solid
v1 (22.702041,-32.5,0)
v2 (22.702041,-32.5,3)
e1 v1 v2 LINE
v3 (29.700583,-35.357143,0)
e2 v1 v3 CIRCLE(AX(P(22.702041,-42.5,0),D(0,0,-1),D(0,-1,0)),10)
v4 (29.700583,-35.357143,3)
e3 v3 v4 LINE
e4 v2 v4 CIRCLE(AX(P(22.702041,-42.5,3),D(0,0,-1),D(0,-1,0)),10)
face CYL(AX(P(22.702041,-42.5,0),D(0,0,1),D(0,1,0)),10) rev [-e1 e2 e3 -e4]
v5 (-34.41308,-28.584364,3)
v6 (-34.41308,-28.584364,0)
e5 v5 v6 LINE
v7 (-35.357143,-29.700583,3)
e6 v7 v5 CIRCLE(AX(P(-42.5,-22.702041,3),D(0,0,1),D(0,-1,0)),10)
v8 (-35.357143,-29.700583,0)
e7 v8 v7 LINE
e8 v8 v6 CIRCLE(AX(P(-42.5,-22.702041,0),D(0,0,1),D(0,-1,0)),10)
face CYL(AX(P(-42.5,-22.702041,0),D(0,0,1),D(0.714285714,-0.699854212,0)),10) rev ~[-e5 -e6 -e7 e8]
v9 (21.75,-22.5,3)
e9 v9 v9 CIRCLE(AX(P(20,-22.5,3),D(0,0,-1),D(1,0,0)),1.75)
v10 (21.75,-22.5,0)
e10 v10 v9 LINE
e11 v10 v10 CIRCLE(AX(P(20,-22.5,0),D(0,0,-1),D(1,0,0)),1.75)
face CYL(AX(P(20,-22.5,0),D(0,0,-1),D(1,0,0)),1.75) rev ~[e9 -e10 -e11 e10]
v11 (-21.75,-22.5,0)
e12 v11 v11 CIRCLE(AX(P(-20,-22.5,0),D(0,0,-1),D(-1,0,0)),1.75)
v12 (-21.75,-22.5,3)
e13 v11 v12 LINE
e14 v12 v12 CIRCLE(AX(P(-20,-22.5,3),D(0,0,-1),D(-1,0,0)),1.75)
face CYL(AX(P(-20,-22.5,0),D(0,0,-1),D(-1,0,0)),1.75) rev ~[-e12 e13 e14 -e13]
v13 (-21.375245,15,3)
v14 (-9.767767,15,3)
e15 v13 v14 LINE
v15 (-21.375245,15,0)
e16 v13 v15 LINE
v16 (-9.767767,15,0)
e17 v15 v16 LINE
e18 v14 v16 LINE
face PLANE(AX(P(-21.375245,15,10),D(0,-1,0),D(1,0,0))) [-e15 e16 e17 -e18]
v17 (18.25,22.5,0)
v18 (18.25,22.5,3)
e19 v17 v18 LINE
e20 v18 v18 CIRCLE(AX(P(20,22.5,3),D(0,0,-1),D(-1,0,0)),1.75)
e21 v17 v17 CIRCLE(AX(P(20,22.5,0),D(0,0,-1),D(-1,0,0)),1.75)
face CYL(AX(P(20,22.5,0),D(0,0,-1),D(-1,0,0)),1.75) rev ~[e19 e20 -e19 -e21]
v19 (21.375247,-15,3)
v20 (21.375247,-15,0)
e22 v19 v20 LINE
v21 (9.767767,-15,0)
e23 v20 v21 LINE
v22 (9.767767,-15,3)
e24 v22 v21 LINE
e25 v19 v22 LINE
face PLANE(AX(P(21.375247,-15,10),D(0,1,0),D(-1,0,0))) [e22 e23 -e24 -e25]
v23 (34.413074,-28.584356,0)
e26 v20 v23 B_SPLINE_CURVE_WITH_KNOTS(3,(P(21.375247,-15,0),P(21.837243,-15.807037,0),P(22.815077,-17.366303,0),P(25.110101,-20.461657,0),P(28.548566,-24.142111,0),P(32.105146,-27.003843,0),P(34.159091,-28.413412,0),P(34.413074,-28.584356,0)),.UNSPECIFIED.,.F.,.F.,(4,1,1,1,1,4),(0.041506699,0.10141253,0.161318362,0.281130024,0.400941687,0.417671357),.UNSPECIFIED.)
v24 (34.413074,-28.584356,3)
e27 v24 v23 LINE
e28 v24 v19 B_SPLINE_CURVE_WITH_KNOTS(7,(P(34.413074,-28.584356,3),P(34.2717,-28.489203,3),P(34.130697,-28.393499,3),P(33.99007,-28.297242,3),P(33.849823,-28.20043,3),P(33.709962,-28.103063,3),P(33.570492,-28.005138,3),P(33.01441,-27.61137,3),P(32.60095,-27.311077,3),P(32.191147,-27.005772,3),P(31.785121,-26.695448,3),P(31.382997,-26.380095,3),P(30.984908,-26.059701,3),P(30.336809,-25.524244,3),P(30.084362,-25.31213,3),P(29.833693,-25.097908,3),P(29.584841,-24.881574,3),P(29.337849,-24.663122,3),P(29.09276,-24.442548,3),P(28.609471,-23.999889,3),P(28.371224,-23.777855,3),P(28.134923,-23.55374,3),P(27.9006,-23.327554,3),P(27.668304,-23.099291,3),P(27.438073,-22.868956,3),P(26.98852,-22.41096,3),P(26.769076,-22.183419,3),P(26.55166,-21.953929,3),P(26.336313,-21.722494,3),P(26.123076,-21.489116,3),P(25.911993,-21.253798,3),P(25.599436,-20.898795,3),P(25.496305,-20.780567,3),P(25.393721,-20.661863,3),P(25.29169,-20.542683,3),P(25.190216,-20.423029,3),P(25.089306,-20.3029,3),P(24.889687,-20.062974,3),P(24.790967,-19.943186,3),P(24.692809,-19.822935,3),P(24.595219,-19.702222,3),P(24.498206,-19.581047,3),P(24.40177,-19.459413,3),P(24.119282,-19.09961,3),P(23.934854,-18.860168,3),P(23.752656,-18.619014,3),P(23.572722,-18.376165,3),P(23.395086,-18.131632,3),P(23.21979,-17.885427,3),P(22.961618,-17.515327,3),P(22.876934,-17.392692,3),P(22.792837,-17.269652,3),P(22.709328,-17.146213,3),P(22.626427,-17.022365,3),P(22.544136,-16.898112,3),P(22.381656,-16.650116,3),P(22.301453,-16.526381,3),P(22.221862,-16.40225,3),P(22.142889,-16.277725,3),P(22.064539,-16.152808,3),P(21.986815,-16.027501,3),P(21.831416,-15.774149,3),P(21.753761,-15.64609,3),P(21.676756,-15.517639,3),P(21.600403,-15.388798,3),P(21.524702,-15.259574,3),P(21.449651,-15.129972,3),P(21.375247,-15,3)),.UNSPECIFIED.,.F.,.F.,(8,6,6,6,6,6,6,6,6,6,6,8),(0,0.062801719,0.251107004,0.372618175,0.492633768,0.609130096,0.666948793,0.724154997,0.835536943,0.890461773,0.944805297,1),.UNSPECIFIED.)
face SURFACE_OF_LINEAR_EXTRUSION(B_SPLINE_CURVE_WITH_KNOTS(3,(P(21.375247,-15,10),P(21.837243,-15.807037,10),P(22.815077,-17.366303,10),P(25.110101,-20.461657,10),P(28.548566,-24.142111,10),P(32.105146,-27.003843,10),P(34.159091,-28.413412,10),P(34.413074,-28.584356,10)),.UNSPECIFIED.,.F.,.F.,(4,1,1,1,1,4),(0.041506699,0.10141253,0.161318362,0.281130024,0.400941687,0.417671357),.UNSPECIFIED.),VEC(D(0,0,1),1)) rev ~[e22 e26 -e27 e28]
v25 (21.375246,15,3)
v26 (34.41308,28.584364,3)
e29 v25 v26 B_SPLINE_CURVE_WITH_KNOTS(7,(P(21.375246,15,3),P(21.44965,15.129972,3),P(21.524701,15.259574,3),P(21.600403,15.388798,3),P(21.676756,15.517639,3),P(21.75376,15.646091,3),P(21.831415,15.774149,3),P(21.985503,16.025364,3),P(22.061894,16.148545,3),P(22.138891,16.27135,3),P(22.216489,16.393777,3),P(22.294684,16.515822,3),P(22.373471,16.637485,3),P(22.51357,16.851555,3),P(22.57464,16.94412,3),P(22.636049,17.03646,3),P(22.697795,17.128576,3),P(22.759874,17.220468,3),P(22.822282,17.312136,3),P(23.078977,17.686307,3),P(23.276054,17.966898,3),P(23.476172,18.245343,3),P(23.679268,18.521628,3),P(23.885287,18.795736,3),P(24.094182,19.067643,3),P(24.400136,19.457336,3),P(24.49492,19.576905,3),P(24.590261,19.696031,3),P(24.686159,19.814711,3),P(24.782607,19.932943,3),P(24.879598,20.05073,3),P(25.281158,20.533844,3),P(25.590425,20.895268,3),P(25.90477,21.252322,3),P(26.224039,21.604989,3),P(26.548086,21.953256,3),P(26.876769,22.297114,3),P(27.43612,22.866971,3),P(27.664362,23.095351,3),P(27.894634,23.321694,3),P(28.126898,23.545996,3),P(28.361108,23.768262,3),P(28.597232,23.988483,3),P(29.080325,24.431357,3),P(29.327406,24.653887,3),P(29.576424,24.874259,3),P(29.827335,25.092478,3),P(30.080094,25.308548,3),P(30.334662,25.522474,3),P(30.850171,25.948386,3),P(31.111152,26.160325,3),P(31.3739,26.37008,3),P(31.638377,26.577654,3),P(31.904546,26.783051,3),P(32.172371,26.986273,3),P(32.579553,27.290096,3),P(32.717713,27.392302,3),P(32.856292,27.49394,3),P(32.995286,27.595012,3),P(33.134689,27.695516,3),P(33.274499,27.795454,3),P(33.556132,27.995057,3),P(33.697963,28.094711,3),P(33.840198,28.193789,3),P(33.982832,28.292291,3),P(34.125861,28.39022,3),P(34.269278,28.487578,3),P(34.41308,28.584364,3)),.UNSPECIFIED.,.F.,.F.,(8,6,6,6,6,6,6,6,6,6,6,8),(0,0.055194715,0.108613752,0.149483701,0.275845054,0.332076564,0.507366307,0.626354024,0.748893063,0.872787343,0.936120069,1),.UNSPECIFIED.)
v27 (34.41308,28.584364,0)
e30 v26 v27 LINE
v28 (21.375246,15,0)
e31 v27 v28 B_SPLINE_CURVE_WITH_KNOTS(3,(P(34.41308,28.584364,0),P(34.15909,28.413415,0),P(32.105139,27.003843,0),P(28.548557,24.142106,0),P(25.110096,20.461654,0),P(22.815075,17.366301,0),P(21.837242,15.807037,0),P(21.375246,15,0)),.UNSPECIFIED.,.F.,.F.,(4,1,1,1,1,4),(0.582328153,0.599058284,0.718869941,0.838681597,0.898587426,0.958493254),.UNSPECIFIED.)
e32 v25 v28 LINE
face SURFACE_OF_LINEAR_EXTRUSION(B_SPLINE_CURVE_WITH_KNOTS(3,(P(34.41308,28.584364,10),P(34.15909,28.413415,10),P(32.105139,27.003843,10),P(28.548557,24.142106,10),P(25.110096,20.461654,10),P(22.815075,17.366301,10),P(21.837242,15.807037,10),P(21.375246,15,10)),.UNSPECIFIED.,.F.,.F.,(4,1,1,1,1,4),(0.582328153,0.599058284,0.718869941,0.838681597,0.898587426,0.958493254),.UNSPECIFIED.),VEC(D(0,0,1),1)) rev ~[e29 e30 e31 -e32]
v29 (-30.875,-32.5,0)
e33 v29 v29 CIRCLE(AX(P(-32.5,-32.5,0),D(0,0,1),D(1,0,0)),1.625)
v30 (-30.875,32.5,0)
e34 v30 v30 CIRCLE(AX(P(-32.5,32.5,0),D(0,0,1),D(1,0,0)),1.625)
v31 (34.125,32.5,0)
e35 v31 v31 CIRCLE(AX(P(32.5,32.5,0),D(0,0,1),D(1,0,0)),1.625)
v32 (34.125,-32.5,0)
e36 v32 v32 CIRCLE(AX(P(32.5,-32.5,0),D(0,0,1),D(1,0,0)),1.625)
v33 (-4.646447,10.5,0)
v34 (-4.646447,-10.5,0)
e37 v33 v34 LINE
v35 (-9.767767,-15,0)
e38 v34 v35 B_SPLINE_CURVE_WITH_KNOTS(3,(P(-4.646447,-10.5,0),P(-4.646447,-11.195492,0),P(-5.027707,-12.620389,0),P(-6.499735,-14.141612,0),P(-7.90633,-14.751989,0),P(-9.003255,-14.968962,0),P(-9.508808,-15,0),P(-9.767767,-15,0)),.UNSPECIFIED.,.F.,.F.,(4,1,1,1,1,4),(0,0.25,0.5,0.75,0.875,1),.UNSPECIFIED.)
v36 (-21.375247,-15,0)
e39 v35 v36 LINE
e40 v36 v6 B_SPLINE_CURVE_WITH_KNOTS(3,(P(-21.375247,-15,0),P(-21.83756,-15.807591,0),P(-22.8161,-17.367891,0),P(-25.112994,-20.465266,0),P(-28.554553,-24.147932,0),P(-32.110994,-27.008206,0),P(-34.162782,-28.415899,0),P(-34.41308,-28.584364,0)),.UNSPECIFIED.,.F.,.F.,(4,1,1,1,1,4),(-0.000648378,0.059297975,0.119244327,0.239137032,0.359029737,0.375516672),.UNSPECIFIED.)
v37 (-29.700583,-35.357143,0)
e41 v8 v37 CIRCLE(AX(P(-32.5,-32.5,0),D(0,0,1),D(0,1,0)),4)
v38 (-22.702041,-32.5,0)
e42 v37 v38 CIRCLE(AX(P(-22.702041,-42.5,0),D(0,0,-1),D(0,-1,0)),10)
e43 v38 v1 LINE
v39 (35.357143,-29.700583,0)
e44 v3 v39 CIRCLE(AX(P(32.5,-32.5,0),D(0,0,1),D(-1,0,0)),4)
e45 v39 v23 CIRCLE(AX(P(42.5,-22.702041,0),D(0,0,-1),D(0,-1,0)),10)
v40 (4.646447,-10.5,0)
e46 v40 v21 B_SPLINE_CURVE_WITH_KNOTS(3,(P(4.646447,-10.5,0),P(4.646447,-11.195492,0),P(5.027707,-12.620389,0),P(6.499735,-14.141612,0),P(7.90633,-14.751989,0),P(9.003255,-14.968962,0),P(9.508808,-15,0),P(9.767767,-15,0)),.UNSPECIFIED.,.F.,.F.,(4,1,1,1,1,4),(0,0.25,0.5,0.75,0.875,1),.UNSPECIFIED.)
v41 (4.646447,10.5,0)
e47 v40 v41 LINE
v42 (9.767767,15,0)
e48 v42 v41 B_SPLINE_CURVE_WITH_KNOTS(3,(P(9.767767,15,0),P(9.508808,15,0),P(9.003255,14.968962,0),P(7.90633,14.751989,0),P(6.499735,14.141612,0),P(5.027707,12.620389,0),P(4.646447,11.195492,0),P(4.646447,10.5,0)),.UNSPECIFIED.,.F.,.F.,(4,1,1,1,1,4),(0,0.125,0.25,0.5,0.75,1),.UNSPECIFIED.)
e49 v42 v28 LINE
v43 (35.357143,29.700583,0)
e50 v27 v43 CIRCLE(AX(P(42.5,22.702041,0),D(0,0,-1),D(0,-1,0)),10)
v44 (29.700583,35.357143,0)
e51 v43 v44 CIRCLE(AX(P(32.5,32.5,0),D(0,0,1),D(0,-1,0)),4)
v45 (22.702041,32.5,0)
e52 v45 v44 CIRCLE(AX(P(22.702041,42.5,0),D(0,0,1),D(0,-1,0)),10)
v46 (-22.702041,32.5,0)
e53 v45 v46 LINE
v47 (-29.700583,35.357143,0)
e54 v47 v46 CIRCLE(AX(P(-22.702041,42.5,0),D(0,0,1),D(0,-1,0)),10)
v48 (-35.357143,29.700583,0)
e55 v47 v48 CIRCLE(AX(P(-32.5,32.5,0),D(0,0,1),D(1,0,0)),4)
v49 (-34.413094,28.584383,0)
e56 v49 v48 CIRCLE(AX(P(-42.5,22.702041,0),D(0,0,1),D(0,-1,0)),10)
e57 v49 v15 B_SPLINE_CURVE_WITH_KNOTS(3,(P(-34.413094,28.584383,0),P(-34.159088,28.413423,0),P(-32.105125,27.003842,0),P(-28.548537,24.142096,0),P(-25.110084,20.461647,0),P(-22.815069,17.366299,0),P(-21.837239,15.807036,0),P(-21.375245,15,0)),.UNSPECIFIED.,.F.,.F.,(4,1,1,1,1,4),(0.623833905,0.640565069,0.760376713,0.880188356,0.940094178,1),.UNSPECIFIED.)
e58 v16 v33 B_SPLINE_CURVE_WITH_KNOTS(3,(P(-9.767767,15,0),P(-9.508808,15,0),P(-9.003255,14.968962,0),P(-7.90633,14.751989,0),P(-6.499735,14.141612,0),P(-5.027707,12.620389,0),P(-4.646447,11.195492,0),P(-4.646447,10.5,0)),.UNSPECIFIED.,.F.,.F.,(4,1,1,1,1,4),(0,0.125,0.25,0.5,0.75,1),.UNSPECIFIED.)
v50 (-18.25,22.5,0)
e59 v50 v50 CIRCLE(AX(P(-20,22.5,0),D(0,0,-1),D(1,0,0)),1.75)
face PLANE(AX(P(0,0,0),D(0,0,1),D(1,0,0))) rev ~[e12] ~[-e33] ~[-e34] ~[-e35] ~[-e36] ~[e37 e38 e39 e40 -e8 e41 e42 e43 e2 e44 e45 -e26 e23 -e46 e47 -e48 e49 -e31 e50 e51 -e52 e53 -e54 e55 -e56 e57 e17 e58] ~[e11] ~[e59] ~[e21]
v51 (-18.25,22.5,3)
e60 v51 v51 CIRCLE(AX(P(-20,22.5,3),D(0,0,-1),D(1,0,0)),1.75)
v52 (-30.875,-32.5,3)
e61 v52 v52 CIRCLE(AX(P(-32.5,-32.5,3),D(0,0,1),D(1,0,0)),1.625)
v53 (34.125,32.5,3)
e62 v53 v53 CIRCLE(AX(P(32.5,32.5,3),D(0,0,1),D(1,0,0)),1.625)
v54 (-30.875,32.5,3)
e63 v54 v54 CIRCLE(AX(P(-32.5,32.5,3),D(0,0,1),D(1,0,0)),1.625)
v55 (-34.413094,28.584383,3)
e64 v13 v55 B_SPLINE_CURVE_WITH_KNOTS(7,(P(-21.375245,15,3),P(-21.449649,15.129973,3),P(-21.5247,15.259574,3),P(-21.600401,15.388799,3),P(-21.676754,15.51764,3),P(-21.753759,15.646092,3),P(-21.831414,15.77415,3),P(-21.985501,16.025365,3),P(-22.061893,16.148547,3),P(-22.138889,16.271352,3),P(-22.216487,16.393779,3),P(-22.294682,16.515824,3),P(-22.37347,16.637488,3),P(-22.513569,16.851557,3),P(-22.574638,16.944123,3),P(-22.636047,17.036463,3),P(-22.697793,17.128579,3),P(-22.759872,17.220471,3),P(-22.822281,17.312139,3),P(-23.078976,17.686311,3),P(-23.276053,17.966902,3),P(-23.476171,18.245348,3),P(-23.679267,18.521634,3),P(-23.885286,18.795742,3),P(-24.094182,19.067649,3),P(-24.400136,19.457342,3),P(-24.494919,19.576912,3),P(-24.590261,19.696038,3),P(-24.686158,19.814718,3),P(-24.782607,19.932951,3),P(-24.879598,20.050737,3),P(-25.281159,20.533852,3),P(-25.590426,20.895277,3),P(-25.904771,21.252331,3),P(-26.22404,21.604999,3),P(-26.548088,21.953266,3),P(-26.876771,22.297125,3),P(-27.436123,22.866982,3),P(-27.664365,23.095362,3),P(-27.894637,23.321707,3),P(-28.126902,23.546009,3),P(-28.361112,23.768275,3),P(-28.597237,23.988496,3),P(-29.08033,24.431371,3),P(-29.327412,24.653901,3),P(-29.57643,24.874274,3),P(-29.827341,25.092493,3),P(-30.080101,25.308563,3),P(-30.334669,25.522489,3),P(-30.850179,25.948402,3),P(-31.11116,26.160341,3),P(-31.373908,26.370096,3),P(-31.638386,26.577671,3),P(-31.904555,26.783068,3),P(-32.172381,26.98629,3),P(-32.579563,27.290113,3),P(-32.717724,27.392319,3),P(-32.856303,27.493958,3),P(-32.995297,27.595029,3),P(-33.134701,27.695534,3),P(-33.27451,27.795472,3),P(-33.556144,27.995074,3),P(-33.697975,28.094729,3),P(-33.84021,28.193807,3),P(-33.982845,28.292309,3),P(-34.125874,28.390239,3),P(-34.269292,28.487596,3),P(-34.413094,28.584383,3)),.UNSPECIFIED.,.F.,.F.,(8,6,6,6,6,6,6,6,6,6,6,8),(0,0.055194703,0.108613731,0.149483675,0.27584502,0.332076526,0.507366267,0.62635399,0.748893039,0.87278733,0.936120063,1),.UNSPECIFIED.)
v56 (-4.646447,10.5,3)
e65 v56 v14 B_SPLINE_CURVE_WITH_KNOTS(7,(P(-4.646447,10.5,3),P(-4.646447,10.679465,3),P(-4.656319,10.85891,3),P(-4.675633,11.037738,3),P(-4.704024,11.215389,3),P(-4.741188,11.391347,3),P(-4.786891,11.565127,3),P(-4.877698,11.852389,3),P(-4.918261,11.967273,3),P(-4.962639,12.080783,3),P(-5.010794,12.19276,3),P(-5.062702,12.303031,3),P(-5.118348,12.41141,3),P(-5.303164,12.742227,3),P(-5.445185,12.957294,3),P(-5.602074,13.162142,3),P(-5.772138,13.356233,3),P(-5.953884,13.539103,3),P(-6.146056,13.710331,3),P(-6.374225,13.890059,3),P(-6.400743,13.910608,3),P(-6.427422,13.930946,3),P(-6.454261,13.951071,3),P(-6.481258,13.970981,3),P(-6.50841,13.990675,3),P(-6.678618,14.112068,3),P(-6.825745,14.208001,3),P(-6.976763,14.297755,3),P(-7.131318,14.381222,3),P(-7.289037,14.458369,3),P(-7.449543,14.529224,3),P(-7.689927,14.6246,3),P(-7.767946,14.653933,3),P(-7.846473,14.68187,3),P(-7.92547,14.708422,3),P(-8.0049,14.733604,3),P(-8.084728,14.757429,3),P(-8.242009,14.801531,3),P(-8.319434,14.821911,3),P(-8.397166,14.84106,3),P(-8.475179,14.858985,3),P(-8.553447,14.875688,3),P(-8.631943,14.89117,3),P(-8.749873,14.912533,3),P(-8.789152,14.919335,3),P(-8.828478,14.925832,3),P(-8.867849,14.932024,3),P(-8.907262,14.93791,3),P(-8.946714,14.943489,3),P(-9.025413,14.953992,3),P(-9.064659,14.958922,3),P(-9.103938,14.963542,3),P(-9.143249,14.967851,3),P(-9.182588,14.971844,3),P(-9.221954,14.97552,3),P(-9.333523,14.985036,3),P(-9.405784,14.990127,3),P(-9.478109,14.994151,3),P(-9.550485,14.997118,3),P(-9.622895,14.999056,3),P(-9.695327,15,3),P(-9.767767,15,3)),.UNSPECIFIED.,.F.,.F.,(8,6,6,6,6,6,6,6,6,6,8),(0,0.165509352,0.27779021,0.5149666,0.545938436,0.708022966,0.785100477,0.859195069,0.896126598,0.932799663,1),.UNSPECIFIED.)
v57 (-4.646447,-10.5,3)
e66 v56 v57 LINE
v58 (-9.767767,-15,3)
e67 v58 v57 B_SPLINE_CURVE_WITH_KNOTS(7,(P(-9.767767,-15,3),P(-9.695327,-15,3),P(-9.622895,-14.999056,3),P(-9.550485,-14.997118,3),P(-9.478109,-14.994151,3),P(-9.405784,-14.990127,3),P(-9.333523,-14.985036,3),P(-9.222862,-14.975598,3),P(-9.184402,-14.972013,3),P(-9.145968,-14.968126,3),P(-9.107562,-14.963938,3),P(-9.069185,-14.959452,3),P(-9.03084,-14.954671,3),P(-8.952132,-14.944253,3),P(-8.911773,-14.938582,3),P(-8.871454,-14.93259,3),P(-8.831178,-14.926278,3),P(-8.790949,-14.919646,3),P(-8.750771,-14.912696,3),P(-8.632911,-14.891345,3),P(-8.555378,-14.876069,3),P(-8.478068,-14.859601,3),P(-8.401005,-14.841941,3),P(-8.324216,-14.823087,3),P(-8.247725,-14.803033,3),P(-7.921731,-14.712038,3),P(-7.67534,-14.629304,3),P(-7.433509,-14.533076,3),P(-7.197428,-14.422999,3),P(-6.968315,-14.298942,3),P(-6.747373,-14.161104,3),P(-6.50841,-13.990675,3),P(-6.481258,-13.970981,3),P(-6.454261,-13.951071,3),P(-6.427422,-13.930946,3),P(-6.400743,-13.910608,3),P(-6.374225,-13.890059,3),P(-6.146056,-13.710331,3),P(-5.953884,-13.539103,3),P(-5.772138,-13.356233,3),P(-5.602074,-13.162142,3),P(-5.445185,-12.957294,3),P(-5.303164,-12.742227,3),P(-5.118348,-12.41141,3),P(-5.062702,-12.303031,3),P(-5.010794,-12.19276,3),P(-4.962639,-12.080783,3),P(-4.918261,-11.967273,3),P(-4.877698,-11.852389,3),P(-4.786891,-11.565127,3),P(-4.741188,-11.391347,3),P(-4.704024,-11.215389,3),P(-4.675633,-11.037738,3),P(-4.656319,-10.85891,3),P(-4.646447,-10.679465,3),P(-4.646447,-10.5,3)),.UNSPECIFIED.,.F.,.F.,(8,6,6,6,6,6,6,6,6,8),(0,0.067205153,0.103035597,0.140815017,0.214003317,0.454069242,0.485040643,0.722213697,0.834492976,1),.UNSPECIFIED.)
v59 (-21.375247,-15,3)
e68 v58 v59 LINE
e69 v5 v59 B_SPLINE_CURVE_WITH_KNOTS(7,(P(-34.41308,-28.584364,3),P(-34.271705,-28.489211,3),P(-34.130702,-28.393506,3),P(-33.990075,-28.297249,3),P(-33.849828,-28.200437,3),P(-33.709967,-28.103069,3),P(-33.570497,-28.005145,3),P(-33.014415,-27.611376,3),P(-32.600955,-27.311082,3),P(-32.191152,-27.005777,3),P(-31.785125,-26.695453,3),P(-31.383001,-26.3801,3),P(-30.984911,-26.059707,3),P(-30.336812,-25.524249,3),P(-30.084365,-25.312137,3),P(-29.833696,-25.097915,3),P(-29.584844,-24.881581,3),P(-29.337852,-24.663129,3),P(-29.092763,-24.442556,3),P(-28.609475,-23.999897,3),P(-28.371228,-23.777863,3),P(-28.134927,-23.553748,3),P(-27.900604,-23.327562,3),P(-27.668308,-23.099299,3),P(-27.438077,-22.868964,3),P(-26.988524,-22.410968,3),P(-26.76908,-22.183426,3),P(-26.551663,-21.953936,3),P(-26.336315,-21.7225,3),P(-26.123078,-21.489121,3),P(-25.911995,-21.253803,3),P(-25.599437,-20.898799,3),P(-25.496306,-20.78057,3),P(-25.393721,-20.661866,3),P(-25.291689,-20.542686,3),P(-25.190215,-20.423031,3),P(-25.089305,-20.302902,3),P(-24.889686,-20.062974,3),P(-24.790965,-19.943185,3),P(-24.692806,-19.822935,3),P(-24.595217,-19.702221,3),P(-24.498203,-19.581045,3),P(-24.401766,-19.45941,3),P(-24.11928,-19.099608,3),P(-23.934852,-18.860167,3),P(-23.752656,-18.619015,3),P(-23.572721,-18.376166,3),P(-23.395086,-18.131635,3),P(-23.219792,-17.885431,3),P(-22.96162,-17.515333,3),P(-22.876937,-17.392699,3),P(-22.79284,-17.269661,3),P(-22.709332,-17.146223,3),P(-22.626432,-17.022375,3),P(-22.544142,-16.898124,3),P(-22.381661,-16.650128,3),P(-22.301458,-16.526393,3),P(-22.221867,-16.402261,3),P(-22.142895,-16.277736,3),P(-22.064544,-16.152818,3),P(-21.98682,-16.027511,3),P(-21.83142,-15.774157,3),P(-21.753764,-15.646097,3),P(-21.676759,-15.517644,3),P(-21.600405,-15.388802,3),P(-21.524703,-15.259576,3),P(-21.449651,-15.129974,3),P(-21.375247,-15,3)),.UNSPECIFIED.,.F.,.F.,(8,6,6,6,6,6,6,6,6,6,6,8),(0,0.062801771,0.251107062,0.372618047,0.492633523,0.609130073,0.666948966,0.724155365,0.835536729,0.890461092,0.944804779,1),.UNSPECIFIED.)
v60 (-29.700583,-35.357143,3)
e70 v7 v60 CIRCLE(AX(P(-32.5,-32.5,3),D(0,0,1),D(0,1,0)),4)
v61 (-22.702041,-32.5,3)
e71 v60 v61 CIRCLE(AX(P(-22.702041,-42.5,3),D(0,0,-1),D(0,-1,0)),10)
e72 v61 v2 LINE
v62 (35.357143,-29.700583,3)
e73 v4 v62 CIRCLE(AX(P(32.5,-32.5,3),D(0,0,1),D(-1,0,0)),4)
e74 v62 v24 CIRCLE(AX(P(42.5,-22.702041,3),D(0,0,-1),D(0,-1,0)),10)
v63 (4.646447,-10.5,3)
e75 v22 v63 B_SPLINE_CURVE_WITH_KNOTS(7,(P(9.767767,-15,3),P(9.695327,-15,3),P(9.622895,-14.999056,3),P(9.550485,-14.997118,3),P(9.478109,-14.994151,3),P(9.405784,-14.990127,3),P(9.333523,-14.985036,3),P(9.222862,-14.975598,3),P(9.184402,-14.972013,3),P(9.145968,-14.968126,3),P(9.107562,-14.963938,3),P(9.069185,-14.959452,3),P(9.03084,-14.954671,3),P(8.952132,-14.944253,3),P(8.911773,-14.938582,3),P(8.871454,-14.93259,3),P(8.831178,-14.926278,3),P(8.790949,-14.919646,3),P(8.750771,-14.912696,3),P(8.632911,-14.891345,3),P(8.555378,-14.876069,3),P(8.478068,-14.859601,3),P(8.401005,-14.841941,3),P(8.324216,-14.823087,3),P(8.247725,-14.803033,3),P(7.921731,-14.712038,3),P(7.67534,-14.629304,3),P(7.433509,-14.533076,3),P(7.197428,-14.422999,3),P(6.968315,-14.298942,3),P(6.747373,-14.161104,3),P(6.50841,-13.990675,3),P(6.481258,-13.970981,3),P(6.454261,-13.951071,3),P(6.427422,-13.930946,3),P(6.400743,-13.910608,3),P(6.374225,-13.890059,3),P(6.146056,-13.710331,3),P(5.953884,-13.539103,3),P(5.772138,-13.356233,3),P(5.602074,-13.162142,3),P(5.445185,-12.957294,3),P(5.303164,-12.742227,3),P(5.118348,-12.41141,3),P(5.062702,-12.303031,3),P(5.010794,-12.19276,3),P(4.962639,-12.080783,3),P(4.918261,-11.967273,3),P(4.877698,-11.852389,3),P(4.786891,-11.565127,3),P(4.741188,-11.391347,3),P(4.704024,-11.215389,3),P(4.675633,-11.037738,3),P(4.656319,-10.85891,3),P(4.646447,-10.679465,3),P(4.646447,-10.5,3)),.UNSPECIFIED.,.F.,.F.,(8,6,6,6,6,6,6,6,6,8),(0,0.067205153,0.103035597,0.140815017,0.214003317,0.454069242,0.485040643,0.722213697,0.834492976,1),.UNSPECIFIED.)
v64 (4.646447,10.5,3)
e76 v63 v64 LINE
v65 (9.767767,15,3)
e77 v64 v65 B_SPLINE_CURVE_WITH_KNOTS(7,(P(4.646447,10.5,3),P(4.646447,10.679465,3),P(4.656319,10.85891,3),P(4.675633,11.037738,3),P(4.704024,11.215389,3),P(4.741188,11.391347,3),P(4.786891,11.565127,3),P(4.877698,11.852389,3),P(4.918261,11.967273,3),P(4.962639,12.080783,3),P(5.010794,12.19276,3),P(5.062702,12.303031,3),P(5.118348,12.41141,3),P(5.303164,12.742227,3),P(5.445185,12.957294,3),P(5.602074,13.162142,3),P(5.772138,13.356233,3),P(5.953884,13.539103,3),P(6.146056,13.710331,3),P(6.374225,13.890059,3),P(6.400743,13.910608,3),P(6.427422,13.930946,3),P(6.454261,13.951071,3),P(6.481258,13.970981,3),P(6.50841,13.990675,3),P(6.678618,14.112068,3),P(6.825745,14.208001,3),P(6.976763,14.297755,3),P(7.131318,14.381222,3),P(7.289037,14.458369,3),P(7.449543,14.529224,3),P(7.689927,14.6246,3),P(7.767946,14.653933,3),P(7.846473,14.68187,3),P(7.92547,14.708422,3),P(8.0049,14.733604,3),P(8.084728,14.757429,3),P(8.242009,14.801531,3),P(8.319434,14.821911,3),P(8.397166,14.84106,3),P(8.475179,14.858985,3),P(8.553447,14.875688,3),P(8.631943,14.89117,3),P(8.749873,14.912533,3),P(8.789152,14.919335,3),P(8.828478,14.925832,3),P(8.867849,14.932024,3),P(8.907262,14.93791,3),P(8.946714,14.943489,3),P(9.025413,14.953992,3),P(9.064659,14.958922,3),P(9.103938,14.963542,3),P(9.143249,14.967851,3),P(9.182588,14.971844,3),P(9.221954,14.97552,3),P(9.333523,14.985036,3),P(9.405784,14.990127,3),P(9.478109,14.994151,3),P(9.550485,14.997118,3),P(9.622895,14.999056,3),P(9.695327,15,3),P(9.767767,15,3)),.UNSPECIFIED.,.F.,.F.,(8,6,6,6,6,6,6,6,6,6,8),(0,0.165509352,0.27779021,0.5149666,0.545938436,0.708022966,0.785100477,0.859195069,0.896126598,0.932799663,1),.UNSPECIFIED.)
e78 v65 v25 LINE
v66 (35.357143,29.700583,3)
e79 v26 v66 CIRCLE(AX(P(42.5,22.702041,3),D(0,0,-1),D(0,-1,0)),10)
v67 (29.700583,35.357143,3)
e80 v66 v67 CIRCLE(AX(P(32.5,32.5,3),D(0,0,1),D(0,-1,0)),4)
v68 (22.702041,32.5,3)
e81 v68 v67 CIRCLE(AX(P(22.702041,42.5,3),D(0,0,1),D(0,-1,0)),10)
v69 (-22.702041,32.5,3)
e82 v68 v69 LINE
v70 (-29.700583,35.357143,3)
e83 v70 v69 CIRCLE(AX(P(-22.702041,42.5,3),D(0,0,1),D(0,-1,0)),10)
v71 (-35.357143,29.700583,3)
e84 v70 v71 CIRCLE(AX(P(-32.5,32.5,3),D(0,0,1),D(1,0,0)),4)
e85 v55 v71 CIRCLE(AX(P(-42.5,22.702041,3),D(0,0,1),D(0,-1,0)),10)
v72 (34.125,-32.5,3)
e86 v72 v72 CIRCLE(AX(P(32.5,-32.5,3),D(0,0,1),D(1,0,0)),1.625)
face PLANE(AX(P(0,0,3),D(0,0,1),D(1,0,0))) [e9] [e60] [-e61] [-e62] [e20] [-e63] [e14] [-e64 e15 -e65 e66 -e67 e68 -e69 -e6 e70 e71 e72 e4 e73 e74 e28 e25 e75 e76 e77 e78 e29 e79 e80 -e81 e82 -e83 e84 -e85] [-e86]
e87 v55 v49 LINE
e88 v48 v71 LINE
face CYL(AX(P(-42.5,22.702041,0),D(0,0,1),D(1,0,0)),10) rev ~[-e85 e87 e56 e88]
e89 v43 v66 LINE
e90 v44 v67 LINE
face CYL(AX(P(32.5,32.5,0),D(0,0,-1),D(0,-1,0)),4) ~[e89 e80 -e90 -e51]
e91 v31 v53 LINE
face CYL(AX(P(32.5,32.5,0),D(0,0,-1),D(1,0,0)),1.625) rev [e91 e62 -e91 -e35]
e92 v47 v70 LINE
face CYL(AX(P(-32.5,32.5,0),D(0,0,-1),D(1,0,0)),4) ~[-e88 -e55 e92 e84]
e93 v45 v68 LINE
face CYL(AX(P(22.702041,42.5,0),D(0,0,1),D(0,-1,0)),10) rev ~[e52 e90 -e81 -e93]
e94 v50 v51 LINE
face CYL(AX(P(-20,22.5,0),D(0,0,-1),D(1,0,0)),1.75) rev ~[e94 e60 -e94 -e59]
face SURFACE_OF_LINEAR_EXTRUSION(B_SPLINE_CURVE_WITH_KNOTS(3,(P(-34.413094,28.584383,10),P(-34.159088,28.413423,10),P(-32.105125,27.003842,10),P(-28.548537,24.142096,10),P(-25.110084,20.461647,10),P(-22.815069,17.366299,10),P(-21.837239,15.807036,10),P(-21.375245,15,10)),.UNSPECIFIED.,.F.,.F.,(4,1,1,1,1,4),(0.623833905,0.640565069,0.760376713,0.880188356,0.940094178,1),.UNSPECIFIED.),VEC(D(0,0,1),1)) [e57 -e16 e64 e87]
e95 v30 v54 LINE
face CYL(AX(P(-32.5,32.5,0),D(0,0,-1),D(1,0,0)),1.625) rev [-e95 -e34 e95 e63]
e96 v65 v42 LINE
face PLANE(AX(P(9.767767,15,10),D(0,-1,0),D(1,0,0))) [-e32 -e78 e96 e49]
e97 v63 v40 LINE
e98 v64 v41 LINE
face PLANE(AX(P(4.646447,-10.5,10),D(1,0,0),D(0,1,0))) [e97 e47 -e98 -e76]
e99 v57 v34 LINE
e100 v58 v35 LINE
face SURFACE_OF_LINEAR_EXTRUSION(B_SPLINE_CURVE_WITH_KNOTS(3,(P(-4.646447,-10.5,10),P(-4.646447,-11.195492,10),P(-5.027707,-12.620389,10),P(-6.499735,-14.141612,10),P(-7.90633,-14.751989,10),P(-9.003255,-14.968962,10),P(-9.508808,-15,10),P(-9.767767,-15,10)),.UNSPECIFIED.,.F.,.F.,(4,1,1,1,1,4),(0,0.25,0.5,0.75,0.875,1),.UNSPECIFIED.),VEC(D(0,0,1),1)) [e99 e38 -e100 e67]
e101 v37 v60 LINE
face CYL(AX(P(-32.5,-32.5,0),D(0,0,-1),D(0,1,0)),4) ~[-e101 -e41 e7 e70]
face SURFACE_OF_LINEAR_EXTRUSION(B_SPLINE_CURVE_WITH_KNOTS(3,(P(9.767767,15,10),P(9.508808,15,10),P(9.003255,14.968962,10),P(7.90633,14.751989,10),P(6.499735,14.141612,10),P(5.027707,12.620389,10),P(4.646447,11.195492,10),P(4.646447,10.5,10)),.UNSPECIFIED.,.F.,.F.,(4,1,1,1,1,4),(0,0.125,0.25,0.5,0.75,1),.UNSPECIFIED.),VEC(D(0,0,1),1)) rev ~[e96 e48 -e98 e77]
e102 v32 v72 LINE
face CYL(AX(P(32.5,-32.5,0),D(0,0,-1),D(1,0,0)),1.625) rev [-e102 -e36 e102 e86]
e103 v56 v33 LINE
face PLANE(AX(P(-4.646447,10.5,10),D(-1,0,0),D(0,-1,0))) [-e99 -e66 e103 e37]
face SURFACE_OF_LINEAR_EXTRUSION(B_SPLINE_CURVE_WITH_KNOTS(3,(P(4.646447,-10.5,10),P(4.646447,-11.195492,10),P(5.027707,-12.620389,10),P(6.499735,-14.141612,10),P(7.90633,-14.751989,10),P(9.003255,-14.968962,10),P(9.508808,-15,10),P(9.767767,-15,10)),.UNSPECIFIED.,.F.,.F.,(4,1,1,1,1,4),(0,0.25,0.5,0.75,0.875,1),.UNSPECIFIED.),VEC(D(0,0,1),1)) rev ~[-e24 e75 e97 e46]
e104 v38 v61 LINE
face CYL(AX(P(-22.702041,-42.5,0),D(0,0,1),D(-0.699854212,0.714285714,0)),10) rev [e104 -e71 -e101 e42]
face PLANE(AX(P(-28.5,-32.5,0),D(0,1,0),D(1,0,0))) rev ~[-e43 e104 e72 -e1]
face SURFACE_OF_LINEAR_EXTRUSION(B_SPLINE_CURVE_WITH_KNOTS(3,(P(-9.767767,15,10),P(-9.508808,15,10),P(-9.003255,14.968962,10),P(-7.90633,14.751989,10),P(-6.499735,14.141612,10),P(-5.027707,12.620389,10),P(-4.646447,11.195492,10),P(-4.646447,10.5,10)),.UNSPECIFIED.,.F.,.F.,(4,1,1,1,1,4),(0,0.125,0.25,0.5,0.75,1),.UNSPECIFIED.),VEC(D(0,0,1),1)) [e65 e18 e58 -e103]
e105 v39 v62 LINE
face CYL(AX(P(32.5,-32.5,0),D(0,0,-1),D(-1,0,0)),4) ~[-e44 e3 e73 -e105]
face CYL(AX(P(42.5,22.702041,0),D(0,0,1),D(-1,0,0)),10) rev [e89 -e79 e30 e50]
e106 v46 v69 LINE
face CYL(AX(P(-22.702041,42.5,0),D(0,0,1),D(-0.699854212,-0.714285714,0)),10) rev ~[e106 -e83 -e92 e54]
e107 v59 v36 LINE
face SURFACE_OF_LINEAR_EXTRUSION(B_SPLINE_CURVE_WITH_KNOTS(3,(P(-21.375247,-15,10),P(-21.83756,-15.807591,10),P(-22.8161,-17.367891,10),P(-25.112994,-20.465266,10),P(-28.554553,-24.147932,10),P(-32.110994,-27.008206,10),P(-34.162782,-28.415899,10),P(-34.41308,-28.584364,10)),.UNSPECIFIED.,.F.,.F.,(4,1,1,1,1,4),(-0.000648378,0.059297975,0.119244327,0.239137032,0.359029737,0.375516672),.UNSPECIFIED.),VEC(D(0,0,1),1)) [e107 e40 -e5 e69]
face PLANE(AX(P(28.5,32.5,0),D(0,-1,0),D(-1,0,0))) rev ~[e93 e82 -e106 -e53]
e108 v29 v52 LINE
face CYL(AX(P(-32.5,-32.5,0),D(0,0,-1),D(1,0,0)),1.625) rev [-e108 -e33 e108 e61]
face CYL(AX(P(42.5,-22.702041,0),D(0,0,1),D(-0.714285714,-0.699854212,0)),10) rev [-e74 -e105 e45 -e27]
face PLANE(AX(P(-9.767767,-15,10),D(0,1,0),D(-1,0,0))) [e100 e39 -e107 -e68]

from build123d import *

# Parameters (mm, degrees)
SKETCH_1_R          = 1.625
EXTRUDE_1_DEPTH     = 3
FILLET_1_R          = 10
SKETCH_2_R          = 1.75
CUT_EXTRUDE_1_DEPTH = 10
CUT_EXTRUDE_START   = -10
CUT_EXTRUDE_2_DEPTH = 10


with BuildPart() as part:
    # Эскиз1 → Бобышка-Вытянуть1 (new body)
    with BuildSketch(Plane.XY):
        with BuildLine():
            ThreePointArc((-32.5, -28.5), (-35.328427125, -35.328427125), (-28.5, -32.5))
            Line((-28.5, -32.5), (28.5, -32.5))
            ThreePointArc((28.5, -32.5), (35.328427125, -35.328427125), (32.5, -28.5))
            Line((32.5, -28.5), (32.5, 28.5))
            ThreePointArc((32.5, 28.5), (35.328427125, 35.328427125), (28.5, 32.5))
            Line((28.5, 32.5), (-28.5, 32.5))
            ThreePointArc((-28.5, 32.5), (-35.328427125, 35.328427125), (-32.5, 28.5))
            Line((-32.5, 28.5), (-32.5, -28.5))
        make_face()
        with Locations((-32.5, -32.5)):
            Circle(SKETCH_1_R, mode=Mode.SUBTRACT)
        with Locations((32.5, 32.5)):
            Circle(SKETCH_1_R, mode=Mode.SUBTRACT)
        with Locations((-32.5, 32.5)):
            Circle(SKETCH_1_R, mode=Mode.SUBTRACT)
        with Locations((32.5, -32.5)):
            Circle(SKETCH_1_R, mode=Mode.SUBTRACT)
    extrude(amount=EXTRUDE_1_DEPTH)

    # Скругление1
    fillet_1_edges = [part.edges().sort_by_distance(p)[0] for p in [
        (-32.5, -28.5, 1.5),
        (-32.5, 28.5, 1.5),
        (-28.5, 32.5, 1.5),
        (28.5, 32.5, 1.5),
        (32.5, 28.5, 1.5),
        (32.5, -28.5, 1.5),
        (28.5, -32.5, 1.5),
        (-28.5, -32.5, 1.5),
    ]]
    fillet(fillet_1_edges, radius=FILLET_1_R)

    # Эскиз2 → Вырез-Вытянуть1 (cut)
    with BuildSketch(Plane(origin=(0, 0, 0), x_dir=(-1, 0, 0), z_dir=(0, 0, -1))):
        with Locations((-20, 22.5)):
            Circle(SKETCH_2_R)
        with Locations(Location((20, 22.5, 0), (0, 0, 180))):
            Circle(SKETCH_2_R)
        with Locations((20, -22.5)):
            Circle(SKETCH_2_R)
        with Locations(Location((-20, -22.5, 0), (0, 0, 180))):
            Circle(SKETCH_2_R)
    extrude(amount=-CUT_EXTRUDE_1_DEPTH, mode=Mode.SUBTRACT)

    # Эскиз3 → Вырез-Вытянуть2 (cut)
    with BuildSketch(Plane(origin=(0, 0, 0), x_dir=(-1, 0, 0), z_dir=(0, 0, -1)).offset(CUT_EXTRUDE_START)):
        with BuildLine():
            ThreePointArc((-32.527489622, -23.443011177), (-33.111487572, -26.145271254), (-34.41307423, -28.584356184))
            add(Edge.make_bspline(
                [(-21.375247121, -15), (-21.837243406, -15.807037469), (-22.815077284, -17.366302748), (-25.110100773, -20.461656809), (-28.548566388, -24.142111027), (-32.105145522, -27.003843019), (-34.159091146, -28.413411533), (-34.41307423, -28.584356184)],
                knots=[0.041506699, 0.041506699, 0.041506699, 0.041506699, 0.10141253, 0.161318362, 0.281130024, 0.400941687, 0.417671357, 0.417671357, 0.417671357, 0.417671357], degree=3))
            Line((-21.375247121, -15), (-9.767766953, -15))
            add(Edge.make_bspline(
                [(-4.646446609, -10.5), (-4.646446609, -11.195491949), (-5.02770668, -12.620388587), (-6.499735229, -14.141611525), (-7.906330267, -14.751989256), (-9.003254917, -14.968962036), (-9.508808337, -15), (-9.767766953, -15)],
                knots=[0, 0, 0, 0, 0.25, 0.5, 0.75, 0.875, 1, 1, 1, 1], degree=3))
            Line((-4.646446609, -10.5), (-4.646446609, 10.5))
            add(Edge.make_bspline(
                [(-9.767766953, 15), (-9.508808337, 15), (-9.003254917, 14.968962036), (-7.906330267, 14.751989256), (-6.499735229, 14.141611525), (-5.02770668, 12.620388587), (-4.646446609, 11.195491949), (-4.646446609, 10.5)],
                knots=[0, 0, 0, 0, 0.125, 0.25, 0.5, 0.75, 1, 1, 1, 1], degree=3))
            Line((-9.767766953, 15), (-21.375246423, 15))
            add(Edge.make_bspline(
                [(-34.413080182, 28.584364367), (-34.159090219, 28.413415142), (-32.105139192, 27.003842637), (-28.548557361, 24.142106491), (-25.110095557, 20.461653929), (-22.815074777, 17.366301448), (-21.837242114, 15.807037015), (-21.375246423, 15)],
                knots=[0.582328153, 0.582328153, 0.582328153, 0.582328153, 0.599058284, 0.718869941, 0.838681597, 0.898587426, 0.958493254, 0.958493254, 0.958493254, 0.958493254], degree=3))
            ThreePointArc((-34.413080182, 28.584364367), (-33.111490075, 26.145278078), (-32.52748995, 23.443015585))
            add(Edge.make_bspline(
                [(-32.52748995, 23.443015585), (-28.375728659, 20.01802535), (-25.24455418, 16.149809293), (-23.169847522, 12)],
                knots=[0.670058199, 0.670058199, 0.670058199, 0.670058199, 1, 1, 1, 1], degree=3, weights=[0.931160567, 0.942808023, 0.965754501, 1]))
            Line((-23.169847522, 12), (-9.767766953, 12))
            add(Edge.make_bspline(
                [(-9.767766953, 12), (-8.525126266, 12), (-7.646446609, 11.378679656), (-7.646446609, 10.5)],
                knots=[0, 0, 0, 0, 1, 1, 1, 1], degree=3, weights=[1, 0.804737854, 0.804737854, 1]))
            Line((-7.646446609, 10.5), (-7.646446609, -10.5))
            add(Edge.make_bspline(
                [(-7.646446609, -10.5), (-7.646446609, -11.378679656), (-8.525126266, -12), (-9.767766953, -12)],
                knots=[0, 0, 0, 0, 1, 1, 1, 1], degree=3, weights=[1, 0.804737854, 0.804737854, 1]))
            Line((-9.767766953, -12), (-23.169847522, -12))
            add(Edge.make_bspline(
                [(-23.169847522, -12), (-25.244555327, -16.149807692), (-28.375729667, -20.018022166), (-32.527489622, -23.443011177)],
                knots=[0, 0, 0, 0, 0.329941488, 0.329941488, 0.329941488, 0.329941488], degree=3, weights=[1, 0.965754533, 0.942808067, 0.9311606]))
        make_face()
        with BuildLine():
            ThreePointArc((34.413079829, -28.584363881), (33.111489843, -26.145277446), (32.527489894, -23.443014841))
            add(Edge.make_bspline(
                [(32.527489894, -23.443014841), (28.375728829, -20.018024812), (25.244554374, -16.149809022), (23.169847522, -12)],
                knots=[0.670058252, 0.670058252, 0.670058252, 0.670058252, 1, 1, 1, 1], degree=3, weights=[0.931160573, 0.942808031, 0.965754506, 1]))
            Line((23.169847522, -12), (9.767766953, -12))
            add(Edge.make_bspline(
                [(9.767766953, -12), (8.525126266, -12), (7.646446609, -11.378679656), (7.646446609, -10.5)],
                knots=[0, 0, 0, 0, 1, 1, 1, 1], degree=3, weights=[1, 0.804737854, 0.804737854, 1]))
            Line((7.646446609, -10.5), (7.646446609, 10.5))
            add(Edge.make_bspline(
                [(7.646446609, 10.5), (7.646446609, 11.378679656), (8.525126266, 12), (9.767766953, 12)],
                knots=[0, 0, 0, 0, 1, 1, 1, 1], degree=3, weights=[1, 0.804737854, 0.804737854, 1]))
            Line((9.767766953, 12), (23.169847522, 12))
            add(Edge.make_bspline(
                [(23.169847522, 12), (25.244551608, 16.149812881), (28.375726398, 20.018032487), (32.527490684, 23.443025466)],
                knots=[0, 0, 0, 0, 0.329942503, 0.329942503, 0.329942503, 0.329942503], degree=3, weights=[1, 0.965754428, 0.942807926, 0.931160493]))
            ThreePointArc((32.527490684, 23.443025466), (33.111495685, 26.145293377), (34.413093524, 28.58438271))
            add(Edge.make_bspline(
                [(34.413093524, 28.58438271), (34.15908814, 28.413423233), (32.105125, 27.003841781), (28.548537123, 24.142096322), (25.110083863, 20.461647473), (22.815069156, 17.366298535), (21.837239216, 15.807035997), (21.37524486, 15)],
                knots=[0.623833905, 0.623833905, 0.623833905, 0.623833905, 0.640565069, 0.760376713, 0.880188356, 0.940094178, 1, 1, 1, 1], degree=3))
            Line((21.37524486, 15), (9.767766953, 15))
            add(Edge.make_bspline(
                [(9.767766953, 15), (9.508808337, 15), (9.003254917, 14.968962036), (7.906330267, 14.751989256), (6.499735229, 14.141611525), (5.02770668, 12.620388587), (4.646446609, 11.195491949), (4.646446609, 10.5)],
                knots=[0, 0, 0, 0, 0.125, 0.25, 0.5, 0.75, 1, 1, 1, 1], degree=3))
            Line((4.646446609, 10.5), (4.646446609, -10.5))
            add(Edge.make_bspline(
                [(4.646446609, -10.5), (4.646446609, -11.195491949), (5.02770668, -12.620388587), (6.499735229, -14.141611525), (7.906330267, -14.751989256), (9.003254917, -14.968962036), (9.508808337, -15), (9.767766953, -15)],
                knots=[0, 0, 0, 0, 0.25, 0.5, 0.75, 0.875, 1, 1, 1, 1], degree=3))
            Line((9.767766953, -15), (21.375246541, -15))
            add(Edge.make_bspline(
                [(21.375246541, -15), (21.837559693, -15.807591474), (22.816100456, -17.367890887), (25.112994349, -20.465265714), (28.554552568, -24.147931842), (32.110993648, -27.008206413), (34.162781762, -28.415899337), (34.413079829, -28.584363881)],
                knots=[-0.000648378, -0.000648378, -0.000648378, -0.000648378, 0.059297975, 0.119244327, 0.239137032, 0.359029737, 0.375516672, 0.375516672, 0.375516672, 0.375516672], degree=3))
        make_face()
    extrude(amount=CUT_EXTRUDE_2_DEPTH, mode=Mode.SUBTRACT)


with BuildPart() as cut_extrude_2_kept_piece:
    # of the separate pieces the step leaves, the one the design keeps (cut_extrude_2_pieces_kept)
    add(part.part.solids().sort_by_distance((-34.413093524, 28.58438271, 0))[0])


solid = cut_extrude_2_kept_piece.part
